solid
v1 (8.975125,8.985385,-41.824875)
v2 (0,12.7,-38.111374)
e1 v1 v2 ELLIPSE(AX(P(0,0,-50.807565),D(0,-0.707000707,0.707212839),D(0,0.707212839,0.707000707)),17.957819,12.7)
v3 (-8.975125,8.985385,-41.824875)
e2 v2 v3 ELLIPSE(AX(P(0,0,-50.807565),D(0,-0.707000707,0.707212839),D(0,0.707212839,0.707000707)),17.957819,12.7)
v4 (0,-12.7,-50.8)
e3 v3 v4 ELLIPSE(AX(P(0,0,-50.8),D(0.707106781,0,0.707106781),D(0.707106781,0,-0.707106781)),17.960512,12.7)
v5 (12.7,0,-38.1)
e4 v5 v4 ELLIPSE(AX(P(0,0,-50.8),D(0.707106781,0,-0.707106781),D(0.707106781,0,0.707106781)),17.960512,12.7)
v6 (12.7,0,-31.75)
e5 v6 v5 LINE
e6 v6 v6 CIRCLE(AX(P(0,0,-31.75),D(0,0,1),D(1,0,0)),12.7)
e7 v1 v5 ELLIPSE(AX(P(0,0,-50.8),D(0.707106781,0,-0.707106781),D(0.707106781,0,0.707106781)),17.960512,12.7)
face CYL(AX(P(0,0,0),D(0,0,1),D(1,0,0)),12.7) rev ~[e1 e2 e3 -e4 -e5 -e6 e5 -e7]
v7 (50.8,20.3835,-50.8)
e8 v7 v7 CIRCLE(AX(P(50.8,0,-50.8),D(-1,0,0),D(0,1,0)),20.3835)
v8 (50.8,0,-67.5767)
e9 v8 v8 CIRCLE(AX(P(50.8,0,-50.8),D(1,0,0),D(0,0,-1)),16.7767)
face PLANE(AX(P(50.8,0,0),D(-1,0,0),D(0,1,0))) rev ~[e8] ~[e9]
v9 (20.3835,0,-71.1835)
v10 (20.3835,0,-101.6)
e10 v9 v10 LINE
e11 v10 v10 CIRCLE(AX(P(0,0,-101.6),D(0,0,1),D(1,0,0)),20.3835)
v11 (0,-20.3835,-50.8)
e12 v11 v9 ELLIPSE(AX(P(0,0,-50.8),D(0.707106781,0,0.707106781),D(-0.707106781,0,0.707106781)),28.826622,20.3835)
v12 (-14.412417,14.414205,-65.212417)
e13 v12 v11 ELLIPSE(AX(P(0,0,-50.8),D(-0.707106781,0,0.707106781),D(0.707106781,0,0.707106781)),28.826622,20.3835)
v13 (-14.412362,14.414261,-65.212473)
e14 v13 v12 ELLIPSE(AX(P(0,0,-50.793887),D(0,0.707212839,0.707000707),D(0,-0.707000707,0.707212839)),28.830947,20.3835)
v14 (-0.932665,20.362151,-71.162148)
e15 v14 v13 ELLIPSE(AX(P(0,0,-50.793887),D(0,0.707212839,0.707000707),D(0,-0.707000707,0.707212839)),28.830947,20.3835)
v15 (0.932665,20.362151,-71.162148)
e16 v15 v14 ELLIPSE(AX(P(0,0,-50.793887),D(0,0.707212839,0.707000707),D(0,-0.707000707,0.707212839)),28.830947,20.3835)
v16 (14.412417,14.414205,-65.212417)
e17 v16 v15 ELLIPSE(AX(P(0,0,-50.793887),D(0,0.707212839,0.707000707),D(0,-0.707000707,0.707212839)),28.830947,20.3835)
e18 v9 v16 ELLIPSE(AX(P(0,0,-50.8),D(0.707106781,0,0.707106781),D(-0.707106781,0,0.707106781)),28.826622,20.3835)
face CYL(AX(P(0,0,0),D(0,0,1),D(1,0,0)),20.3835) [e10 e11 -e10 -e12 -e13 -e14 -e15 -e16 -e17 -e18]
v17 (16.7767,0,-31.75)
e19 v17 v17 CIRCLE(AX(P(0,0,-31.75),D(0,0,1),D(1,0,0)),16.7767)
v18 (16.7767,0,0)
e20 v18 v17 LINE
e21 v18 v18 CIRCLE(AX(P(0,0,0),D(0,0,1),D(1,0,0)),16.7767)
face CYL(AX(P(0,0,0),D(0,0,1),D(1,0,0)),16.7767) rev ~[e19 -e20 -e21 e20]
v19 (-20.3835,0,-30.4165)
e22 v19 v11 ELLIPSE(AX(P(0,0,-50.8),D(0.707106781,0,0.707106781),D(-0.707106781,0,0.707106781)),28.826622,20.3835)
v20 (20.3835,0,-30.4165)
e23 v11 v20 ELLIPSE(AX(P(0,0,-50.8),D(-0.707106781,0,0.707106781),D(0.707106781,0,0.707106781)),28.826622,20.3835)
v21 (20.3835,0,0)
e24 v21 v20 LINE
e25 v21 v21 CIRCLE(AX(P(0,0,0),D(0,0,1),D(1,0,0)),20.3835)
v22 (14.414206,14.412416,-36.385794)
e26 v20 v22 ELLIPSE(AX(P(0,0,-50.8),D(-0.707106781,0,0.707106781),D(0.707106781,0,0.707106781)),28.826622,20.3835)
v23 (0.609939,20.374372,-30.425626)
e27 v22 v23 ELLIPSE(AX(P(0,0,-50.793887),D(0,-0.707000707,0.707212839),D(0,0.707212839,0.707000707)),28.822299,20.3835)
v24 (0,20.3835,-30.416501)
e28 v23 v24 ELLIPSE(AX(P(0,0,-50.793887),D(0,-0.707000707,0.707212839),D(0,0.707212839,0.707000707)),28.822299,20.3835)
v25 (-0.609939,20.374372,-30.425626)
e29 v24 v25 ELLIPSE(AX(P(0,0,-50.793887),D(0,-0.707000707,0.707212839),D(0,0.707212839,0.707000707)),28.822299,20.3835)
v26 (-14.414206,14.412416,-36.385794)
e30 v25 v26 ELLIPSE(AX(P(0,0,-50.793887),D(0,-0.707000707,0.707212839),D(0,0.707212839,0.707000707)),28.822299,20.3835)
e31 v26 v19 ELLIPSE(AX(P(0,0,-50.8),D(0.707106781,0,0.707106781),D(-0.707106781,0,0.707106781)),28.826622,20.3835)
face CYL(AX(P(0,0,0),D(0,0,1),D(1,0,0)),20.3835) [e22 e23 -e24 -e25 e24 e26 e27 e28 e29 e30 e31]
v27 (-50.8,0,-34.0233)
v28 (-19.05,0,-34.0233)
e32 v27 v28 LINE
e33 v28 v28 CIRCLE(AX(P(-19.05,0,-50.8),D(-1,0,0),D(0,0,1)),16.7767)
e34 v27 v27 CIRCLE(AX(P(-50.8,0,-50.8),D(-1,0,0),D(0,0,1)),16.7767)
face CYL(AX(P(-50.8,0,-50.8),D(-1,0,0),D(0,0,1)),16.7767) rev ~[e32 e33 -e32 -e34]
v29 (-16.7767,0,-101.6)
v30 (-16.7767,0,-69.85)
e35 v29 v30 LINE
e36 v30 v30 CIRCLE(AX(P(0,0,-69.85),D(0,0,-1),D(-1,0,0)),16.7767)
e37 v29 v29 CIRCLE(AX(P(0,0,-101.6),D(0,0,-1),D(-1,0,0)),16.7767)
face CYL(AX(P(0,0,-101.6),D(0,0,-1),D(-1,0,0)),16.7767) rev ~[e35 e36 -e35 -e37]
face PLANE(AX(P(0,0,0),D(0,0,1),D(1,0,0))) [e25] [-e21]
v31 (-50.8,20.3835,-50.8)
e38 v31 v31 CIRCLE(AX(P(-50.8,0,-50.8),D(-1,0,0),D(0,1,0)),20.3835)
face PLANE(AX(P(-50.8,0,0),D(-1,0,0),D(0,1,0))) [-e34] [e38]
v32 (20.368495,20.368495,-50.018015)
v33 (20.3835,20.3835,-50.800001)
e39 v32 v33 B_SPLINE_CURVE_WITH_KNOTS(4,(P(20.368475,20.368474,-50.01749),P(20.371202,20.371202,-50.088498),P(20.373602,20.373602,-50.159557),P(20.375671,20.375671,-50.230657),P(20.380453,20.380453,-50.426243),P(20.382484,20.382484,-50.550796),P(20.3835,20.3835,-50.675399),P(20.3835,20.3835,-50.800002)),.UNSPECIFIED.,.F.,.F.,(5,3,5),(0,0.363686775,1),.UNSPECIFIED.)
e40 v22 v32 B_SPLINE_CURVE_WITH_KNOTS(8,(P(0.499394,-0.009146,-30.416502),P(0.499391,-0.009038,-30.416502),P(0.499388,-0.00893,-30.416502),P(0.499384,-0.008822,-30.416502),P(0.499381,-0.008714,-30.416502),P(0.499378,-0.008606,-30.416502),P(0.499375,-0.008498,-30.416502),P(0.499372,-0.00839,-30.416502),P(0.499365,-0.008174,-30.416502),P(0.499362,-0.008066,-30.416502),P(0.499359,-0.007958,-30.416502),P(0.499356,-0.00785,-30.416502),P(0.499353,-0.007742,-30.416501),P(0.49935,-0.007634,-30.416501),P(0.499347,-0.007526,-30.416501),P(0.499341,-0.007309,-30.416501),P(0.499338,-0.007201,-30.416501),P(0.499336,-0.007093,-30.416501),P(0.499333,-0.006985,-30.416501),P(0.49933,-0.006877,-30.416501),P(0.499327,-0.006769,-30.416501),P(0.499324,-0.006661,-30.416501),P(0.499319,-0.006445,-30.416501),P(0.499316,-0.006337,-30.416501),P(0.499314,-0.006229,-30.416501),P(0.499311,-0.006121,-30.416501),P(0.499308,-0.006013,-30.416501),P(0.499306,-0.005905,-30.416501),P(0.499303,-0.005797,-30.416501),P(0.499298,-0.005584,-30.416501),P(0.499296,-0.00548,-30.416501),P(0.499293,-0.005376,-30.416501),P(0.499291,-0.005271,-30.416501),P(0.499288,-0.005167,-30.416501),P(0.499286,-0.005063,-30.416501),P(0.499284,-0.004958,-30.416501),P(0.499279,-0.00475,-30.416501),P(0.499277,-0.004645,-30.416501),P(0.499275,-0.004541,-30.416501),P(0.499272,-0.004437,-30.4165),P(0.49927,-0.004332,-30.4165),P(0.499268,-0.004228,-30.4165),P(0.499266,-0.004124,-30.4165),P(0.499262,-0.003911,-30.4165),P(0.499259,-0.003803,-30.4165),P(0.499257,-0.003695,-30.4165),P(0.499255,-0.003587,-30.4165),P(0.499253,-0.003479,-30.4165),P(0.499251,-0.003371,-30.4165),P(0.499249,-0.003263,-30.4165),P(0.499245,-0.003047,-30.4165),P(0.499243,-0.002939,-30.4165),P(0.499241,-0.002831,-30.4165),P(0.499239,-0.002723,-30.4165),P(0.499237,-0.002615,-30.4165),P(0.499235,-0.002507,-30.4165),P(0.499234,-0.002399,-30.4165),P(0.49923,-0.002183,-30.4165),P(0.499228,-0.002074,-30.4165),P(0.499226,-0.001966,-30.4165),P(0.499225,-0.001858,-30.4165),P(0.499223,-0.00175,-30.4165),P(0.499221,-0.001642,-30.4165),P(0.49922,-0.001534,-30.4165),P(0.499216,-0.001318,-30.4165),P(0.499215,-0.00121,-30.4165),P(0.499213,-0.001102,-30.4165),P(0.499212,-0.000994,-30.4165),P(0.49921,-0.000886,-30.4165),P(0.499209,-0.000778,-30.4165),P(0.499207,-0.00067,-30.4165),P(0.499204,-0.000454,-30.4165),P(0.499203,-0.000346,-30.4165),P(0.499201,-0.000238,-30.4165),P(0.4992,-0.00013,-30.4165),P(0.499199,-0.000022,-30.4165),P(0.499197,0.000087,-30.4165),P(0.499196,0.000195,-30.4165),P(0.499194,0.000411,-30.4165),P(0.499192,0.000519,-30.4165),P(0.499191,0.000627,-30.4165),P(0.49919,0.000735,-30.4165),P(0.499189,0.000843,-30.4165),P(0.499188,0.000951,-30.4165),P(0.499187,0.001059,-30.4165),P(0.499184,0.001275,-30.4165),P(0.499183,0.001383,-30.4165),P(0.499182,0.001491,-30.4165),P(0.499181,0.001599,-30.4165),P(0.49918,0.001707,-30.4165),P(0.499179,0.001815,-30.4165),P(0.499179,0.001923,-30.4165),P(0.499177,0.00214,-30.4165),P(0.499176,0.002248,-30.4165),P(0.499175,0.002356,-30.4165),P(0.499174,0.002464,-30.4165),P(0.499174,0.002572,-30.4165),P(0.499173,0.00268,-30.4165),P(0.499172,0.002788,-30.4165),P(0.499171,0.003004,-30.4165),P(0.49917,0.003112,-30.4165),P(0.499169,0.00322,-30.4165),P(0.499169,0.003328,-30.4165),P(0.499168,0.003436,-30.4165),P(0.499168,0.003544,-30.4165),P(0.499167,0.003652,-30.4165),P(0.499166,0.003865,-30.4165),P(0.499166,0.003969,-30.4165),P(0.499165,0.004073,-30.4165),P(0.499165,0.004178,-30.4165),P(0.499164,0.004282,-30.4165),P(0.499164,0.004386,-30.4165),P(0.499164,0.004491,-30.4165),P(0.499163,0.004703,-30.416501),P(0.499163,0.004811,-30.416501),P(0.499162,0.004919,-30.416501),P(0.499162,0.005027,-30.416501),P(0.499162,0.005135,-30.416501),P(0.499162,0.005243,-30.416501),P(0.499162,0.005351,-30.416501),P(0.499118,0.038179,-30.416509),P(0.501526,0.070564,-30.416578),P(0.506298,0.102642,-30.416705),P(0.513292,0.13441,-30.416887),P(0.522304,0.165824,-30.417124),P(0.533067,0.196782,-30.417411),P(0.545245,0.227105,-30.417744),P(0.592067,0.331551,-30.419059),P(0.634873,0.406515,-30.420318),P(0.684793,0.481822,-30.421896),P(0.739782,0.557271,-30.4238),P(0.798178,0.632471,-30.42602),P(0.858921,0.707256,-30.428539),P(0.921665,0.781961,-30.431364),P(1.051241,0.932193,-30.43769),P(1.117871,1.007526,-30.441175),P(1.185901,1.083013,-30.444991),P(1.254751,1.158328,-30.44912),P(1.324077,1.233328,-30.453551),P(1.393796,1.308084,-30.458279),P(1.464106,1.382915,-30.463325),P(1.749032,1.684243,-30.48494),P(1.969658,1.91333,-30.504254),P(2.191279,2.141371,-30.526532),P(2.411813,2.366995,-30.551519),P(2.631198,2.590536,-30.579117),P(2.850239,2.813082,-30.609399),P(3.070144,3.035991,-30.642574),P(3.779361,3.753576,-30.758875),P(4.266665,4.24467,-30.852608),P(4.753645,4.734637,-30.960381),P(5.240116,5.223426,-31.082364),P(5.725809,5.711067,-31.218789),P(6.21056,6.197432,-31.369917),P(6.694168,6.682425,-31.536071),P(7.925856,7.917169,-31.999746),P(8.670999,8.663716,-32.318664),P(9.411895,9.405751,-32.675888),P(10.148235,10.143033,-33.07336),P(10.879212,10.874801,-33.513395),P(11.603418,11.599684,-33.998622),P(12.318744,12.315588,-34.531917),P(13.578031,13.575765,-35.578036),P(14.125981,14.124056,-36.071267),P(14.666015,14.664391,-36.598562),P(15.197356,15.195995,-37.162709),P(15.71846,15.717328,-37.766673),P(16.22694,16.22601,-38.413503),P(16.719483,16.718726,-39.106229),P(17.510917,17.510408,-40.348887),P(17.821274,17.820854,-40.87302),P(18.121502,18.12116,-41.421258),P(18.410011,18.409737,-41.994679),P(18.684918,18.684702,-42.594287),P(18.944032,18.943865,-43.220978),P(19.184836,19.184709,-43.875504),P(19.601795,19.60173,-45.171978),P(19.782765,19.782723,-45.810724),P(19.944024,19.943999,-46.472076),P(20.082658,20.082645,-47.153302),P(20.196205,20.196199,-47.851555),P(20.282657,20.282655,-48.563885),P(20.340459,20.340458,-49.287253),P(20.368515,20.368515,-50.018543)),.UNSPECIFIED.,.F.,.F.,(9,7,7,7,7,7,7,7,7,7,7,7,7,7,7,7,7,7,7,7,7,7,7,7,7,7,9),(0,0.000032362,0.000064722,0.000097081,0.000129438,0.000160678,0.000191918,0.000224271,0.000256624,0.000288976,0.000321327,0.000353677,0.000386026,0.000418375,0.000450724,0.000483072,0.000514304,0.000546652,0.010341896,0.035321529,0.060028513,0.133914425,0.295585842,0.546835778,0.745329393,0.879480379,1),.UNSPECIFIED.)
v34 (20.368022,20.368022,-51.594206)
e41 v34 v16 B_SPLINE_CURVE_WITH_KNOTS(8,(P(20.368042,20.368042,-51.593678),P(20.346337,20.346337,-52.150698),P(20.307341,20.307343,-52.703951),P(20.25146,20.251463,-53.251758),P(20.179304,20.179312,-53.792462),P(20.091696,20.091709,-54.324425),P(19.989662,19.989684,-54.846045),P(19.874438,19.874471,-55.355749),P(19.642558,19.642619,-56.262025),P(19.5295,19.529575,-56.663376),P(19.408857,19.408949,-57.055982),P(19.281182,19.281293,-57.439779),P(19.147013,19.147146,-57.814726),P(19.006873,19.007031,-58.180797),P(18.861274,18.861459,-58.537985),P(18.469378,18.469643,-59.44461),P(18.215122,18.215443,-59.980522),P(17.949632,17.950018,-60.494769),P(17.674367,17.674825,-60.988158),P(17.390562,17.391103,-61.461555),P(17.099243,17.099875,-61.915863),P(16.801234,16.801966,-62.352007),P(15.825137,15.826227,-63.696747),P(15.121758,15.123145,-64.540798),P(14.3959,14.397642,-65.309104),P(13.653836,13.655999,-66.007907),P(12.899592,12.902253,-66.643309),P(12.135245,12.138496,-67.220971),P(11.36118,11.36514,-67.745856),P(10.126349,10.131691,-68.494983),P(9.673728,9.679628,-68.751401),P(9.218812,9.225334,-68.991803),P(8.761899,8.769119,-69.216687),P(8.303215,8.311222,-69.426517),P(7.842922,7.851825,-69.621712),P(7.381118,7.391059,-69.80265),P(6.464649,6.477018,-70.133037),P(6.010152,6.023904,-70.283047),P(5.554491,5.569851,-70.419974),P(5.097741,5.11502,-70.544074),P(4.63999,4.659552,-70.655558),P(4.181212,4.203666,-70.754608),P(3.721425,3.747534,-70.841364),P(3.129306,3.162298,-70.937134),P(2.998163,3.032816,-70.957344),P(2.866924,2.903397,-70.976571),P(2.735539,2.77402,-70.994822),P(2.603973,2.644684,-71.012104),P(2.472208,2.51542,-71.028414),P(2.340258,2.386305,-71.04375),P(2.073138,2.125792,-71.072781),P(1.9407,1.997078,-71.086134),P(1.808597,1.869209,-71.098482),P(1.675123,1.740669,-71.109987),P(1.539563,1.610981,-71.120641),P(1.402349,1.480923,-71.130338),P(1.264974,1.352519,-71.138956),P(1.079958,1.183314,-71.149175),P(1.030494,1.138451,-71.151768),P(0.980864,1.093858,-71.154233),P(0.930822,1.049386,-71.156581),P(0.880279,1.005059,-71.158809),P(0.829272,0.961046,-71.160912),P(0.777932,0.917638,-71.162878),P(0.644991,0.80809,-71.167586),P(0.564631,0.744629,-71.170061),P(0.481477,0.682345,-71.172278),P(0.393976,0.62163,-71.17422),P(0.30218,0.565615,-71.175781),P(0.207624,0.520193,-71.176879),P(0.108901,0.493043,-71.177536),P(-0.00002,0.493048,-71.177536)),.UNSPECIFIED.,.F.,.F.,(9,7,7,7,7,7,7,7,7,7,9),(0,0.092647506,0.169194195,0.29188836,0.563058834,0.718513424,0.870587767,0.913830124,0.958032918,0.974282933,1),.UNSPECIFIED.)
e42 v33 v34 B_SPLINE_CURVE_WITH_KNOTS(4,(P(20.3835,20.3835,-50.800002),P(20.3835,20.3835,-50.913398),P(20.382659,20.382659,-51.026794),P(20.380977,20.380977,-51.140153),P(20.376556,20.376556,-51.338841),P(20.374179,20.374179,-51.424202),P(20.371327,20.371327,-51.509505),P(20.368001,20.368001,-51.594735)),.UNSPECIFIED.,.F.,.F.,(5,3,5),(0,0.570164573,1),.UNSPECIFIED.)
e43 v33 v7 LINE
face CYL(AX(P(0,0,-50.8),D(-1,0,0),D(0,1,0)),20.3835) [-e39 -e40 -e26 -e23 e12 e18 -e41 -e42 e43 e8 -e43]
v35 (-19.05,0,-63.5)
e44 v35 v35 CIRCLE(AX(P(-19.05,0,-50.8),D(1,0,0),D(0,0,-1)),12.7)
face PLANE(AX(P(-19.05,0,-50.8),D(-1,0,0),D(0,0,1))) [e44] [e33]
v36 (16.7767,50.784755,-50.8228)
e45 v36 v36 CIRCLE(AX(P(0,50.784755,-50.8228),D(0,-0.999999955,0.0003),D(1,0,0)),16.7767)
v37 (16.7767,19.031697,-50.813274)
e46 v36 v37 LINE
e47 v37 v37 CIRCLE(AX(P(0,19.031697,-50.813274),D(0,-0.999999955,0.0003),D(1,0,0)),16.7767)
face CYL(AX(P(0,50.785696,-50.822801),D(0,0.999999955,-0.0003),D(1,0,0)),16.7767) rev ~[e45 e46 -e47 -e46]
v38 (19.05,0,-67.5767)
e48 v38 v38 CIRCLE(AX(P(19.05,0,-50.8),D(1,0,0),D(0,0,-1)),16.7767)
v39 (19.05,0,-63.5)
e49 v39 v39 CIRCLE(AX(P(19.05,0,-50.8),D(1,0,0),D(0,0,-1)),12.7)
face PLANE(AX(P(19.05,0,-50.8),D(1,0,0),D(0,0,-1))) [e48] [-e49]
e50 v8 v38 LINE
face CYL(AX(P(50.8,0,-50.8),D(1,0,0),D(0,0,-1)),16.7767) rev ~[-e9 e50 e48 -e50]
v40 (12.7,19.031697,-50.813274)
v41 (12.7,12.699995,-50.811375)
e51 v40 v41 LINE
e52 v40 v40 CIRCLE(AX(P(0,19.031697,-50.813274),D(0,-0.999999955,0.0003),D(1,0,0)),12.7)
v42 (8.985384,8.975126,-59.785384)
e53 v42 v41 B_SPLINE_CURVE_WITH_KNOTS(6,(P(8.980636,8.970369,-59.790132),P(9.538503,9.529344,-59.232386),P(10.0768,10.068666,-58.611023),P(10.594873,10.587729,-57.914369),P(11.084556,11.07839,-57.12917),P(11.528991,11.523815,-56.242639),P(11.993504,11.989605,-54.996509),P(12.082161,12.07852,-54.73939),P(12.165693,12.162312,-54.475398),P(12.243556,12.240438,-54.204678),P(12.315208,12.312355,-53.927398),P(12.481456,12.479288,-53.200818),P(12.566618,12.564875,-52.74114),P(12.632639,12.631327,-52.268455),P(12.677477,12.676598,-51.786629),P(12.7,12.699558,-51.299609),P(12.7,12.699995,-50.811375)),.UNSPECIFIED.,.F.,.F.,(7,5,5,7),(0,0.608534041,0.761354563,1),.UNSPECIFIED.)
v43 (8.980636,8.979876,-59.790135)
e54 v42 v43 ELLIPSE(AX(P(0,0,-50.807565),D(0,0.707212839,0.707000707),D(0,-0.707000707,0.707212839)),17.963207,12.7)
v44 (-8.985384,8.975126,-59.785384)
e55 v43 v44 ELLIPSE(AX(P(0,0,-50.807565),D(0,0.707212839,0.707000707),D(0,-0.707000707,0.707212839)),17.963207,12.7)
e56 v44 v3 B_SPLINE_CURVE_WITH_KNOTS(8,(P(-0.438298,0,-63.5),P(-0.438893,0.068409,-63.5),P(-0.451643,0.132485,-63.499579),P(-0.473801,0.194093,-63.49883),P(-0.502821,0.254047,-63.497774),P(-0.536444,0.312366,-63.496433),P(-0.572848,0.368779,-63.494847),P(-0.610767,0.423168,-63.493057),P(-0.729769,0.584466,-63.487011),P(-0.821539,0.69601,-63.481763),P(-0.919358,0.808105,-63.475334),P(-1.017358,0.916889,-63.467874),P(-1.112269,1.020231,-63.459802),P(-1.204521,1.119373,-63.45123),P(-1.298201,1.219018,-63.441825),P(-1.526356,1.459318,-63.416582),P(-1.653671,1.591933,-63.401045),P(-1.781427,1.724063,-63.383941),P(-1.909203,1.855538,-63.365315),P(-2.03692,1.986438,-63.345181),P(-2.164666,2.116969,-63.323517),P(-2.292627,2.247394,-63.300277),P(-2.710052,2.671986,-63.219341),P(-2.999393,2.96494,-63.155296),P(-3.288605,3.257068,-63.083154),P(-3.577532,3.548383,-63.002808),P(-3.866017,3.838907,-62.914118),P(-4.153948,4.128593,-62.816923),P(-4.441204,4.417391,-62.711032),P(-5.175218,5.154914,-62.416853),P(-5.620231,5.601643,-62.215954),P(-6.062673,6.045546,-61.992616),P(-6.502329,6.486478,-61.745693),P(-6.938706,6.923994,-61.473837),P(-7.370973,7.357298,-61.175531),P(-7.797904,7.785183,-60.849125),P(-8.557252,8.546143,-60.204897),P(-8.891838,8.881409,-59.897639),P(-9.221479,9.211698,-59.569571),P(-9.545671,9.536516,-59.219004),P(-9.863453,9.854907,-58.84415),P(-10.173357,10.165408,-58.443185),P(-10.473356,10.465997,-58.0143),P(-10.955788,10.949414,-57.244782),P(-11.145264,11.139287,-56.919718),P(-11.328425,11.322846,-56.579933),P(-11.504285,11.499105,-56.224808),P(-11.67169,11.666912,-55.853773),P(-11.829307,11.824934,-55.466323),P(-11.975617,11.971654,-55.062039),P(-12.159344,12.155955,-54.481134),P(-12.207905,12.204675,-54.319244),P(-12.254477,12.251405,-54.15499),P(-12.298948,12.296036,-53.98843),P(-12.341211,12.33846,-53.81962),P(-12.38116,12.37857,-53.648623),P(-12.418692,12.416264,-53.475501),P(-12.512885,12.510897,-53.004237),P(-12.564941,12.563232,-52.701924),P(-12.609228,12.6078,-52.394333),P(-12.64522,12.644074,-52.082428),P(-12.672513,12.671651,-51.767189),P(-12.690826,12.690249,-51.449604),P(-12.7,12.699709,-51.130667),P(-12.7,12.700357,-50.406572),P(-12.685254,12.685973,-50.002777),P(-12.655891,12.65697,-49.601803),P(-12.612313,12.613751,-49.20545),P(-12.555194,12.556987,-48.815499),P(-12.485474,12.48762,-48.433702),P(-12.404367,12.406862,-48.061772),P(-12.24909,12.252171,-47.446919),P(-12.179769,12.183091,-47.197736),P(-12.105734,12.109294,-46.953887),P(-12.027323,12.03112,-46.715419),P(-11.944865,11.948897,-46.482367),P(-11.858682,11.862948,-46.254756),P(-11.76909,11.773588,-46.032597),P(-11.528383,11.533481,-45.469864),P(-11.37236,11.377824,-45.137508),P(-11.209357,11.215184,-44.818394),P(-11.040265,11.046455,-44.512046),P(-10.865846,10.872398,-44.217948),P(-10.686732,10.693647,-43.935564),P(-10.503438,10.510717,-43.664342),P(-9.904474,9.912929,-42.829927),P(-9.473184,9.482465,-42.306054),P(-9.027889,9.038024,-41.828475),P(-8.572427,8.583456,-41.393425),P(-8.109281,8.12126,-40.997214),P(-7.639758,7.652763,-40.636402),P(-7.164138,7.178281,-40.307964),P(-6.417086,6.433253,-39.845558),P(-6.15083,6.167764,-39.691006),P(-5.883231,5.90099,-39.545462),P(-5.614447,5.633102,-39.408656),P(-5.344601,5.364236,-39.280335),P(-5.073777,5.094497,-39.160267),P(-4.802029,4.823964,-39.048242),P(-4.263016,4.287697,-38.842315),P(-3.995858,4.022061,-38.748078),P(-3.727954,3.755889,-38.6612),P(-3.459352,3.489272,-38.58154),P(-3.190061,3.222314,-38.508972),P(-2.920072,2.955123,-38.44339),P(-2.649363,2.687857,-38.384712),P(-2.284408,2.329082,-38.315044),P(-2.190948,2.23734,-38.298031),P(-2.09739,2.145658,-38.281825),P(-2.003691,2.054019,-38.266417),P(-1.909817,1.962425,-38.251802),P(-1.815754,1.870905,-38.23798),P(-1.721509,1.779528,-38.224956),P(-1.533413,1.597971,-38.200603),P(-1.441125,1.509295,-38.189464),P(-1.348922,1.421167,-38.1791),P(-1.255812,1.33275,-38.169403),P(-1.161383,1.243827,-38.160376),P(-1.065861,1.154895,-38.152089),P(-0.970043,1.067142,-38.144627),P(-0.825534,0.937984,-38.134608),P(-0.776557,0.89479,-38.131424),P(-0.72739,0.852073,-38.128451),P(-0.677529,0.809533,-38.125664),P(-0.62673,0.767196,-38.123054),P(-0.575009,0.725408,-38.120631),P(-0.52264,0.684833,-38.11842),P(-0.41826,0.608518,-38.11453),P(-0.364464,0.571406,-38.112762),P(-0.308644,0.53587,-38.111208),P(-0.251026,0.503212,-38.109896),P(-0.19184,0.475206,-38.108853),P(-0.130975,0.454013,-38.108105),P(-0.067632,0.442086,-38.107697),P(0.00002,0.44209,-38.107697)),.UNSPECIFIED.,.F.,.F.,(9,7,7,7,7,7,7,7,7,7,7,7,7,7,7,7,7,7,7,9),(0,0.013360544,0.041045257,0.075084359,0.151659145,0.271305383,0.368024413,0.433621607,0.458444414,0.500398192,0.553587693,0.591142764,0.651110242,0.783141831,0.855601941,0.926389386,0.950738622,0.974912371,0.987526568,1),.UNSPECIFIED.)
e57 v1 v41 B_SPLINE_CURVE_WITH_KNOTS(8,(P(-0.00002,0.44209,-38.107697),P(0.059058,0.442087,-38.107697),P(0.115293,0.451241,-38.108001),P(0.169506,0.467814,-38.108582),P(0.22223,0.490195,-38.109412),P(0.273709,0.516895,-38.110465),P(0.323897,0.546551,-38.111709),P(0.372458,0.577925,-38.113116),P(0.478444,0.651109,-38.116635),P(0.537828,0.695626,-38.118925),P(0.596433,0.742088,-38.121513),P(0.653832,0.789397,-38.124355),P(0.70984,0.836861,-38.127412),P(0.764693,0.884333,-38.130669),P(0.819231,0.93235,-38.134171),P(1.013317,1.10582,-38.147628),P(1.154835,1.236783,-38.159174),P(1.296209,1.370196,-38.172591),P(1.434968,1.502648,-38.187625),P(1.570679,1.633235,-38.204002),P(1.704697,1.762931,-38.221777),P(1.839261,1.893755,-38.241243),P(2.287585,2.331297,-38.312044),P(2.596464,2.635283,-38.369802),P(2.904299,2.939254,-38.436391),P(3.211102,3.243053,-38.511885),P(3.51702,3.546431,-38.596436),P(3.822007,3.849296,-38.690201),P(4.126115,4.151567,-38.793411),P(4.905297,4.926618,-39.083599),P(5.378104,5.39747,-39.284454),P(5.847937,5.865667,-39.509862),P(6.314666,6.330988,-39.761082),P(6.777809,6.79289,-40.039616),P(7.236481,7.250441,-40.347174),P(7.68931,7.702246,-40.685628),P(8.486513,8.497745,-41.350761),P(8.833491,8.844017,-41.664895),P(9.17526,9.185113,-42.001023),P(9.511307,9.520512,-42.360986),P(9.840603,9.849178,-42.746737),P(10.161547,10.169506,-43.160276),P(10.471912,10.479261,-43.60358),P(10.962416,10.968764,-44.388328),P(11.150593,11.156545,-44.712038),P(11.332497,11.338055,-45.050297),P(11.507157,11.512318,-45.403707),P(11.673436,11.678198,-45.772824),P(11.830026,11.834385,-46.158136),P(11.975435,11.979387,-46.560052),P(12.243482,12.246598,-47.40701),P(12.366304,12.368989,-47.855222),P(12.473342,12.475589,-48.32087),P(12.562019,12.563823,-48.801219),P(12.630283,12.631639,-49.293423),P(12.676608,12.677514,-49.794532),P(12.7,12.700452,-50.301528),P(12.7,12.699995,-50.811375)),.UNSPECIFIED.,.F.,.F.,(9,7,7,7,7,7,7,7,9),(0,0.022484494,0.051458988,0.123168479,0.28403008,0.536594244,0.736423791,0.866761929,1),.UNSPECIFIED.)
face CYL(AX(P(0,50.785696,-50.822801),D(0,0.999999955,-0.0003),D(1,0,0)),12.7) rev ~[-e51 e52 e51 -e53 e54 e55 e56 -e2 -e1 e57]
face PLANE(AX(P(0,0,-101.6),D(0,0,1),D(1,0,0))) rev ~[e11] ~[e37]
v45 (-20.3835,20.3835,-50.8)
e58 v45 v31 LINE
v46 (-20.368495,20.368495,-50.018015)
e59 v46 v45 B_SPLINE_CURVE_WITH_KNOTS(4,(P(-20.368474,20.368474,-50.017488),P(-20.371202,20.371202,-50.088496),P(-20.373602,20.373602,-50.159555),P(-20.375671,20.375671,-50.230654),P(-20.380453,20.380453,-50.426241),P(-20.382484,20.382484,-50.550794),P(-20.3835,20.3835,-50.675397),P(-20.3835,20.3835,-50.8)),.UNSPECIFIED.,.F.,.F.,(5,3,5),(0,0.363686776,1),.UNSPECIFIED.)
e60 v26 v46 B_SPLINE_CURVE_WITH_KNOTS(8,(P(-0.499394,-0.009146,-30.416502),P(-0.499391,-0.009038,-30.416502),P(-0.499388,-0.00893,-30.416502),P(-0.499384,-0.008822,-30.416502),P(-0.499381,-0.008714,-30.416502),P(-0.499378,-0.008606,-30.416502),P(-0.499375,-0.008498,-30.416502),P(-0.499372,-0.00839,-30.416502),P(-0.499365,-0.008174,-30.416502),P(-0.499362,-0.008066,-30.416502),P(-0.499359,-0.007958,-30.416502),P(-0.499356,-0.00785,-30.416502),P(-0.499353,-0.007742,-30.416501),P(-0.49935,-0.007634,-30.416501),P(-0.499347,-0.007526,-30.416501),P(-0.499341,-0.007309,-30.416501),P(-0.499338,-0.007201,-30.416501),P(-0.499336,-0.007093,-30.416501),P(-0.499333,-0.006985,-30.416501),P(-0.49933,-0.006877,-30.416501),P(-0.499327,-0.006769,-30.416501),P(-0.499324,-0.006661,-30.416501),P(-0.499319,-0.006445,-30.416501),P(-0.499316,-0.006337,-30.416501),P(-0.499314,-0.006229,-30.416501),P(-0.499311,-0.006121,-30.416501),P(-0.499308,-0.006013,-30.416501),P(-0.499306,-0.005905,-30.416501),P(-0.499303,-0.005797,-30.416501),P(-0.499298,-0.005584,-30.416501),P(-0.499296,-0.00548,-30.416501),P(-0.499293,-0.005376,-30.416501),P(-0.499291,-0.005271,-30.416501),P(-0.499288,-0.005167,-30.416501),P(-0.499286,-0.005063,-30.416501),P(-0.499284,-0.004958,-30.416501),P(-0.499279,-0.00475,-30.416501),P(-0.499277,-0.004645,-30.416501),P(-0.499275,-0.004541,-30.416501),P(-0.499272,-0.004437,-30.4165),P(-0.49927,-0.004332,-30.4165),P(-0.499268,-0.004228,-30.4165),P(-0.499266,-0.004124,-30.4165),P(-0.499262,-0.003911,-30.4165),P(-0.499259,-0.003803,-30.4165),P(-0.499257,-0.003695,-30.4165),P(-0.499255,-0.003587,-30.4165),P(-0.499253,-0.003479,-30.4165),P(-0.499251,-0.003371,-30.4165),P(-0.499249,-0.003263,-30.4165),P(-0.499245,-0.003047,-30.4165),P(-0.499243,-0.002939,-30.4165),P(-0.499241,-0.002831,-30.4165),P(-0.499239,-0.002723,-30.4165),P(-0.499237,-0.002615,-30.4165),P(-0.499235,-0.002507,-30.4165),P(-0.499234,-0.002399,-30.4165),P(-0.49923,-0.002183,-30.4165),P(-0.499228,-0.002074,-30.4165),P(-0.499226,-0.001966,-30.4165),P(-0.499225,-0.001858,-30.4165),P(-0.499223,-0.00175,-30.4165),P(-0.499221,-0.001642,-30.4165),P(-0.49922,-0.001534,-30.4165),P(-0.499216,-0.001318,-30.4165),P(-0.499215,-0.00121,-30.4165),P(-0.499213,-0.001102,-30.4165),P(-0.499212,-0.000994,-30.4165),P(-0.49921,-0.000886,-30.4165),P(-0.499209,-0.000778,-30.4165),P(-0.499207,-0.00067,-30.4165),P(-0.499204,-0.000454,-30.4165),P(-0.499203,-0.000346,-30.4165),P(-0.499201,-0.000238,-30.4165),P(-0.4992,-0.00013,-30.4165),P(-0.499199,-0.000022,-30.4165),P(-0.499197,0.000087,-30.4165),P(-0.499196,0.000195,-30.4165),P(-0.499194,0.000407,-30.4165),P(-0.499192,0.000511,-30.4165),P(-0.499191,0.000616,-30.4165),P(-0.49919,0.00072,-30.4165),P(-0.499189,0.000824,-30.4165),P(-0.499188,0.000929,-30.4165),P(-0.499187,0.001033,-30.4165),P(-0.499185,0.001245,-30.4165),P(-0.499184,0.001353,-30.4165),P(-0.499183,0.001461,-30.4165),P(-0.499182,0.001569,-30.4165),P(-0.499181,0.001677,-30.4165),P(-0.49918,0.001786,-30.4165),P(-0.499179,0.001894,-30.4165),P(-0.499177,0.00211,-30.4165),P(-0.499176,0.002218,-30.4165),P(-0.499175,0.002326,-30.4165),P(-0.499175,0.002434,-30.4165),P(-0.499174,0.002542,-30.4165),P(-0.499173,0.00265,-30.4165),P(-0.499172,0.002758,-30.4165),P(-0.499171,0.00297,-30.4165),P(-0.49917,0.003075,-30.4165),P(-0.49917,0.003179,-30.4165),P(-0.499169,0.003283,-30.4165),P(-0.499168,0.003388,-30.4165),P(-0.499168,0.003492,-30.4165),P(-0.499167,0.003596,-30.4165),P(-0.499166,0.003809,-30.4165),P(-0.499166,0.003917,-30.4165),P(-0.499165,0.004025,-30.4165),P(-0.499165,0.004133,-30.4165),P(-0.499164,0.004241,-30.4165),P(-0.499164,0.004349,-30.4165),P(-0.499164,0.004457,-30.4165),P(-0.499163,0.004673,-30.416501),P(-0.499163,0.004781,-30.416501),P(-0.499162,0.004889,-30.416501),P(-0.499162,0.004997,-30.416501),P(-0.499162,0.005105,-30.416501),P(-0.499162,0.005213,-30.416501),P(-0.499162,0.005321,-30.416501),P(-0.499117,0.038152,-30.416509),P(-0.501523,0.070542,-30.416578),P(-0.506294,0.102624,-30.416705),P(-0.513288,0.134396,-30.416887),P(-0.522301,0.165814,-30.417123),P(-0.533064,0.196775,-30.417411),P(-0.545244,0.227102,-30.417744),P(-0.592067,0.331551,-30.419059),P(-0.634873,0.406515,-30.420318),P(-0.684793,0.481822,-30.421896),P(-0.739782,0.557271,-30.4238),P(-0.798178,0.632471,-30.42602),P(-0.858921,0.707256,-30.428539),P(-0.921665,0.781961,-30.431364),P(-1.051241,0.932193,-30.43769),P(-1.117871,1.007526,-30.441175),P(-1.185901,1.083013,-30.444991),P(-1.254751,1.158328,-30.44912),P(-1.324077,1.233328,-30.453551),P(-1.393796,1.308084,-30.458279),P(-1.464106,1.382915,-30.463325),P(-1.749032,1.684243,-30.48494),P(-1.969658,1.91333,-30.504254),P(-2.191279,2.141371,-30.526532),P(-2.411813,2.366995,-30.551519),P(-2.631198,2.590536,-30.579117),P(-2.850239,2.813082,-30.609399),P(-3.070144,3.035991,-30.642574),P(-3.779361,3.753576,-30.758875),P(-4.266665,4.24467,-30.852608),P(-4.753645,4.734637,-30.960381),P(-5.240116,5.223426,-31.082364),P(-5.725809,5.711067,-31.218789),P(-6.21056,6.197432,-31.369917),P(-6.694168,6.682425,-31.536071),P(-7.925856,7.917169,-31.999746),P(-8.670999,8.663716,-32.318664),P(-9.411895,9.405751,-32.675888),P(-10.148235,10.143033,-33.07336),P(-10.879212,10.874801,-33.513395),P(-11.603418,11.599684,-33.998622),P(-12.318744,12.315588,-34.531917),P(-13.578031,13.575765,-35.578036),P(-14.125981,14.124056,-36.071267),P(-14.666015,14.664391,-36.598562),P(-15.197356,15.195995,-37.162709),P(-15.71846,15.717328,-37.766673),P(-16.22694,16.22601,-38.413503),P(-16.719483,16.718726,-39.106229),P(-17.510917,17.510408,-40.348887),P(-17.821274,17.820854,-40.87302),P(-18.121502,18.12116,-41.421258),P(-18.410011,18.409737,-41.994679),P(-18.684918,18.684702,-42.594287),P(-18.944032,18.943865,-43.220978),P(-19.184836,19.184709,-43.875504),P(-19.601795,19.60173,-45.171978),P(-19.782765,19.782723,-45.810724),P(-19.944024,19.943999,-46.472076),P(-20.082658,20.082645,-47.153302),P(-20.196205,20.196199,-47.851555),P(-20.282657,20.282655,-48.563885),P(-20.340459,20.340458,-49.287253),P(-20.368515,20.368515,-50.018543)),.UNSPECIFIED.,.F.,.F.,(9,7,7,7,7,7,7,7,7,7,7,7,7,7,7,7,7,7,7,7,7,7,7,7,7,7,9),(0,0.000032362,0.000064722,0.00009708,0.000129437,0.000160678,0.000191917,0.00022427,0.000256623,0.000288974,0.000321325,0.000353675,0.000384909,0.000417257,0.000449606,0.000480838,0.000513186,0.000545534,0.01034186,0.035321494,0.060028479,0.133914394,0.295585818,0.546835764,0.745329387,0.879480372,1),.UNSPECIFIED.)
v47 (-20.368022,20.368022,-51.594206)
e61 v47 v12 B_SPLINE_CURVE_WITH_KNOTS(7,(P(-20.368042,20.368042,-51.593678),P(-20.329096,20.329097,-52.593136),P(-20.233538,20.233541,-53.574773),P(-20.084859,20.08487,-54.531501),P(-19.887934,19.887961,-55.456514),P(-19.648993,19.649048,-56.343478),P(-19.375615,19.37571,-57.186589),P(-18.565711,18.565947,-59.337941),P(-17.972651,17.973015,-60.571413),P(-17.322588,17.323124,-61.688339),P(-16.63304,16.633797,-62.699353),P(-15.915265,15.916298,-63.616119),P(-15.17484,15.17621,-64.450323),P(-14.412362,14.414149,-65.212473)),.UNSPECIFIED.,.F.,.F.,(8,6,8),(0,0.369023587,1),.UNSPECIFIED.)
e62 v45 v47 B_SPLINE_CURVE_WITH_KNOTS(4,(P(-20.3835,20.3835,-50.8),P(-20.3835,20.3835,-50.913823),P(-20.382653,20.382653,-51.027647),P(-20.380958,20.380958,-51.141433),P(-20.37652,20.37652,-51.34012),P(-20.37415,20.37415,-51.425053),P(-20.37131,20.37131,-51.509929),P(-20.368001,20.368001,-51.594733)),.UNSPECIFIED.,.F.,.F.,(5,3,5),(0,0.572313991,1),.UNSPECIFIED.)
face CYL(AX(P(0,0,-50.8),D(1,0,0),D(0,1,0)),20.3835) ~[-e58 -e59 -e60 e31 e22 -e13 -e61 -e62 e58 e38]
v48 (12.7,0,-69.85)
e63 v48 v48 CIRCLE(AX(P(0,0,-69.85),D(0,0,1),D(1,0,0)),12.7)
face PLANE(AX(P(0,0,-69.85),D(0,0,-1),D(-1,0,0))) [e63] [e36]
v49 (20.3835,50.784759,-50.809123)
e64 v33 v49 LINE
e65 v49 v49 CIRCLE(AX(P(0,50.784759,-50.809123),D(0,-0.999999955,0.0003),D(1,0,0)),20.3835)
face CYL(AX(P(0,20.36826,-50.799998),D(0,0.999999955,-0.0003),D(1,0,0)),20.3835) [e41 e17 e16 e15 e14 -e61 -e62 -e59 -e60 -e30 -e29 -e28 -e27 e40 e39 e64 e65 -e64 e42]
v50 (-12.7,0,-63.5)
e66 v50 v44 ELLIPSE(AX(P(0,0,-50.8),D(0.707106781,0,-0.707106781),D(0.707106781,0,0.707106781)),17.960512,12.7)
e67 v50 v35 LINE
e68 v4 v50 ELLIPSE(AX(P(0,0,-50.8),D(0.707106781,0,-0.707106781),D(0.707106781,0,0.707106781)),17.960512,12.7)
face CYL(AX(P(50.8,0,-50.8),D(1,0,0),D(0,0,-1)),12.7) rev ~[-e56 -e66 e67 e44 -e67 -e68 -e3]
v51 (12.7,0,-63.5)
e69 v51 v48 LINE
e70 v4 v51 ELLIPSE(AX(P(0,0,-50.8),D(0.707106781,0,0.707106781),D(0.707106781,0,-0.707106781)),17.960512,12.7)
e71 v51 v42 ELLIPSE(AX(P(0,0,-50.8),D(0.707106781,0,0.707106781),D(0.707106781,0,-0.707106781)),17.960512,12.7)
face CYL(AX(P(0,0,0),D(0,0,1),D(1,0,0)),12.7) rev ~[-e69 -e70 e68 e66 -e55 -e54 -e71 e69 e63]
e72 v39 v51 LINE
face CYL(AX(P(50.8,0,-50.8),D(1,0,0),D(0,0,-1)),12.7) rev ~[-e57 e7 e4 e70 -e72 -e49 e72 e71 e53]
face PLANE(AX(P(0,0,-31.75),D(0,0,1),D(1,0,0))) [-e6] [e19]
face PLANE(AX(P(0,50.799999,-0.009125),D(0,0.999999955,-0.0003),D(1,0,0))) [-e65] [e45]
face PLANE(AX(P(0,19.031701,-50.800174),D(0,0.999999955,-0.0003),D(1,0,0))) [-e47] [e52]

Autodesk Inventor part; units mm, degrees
ref_plane "YZ Plane" through (0, 0, 0) normal (1, 0, 0) x (0, 1, 0)
sketch "Sketch1" plane through (0, 0, 0) normal (0, 0, 1) x (1, 0, 0)
  circle A0 centre (0, 0) radius 20.3835
  dimension "d0" = 40.767
extrude "Extrusion1" add sketch "Sketch1" against normal blind 101.6
sketch "Sketch2" plane through (0, 0, 0) normal (0, 0, 1) x (1, 0, 0)
  line L0 (0, 0) -> (0, 19.704)
sketch "Sketch3" plane through (0, 0, -101.6) normal (0, 0, -1) x (-1, 0, 0)
  line L0 (0, 0) -> (0, 20.098)
sketch "Sketch11" plane through (0, 0, 0) normal (0, 0, 1) x (1, 0, 0)
  circle A0 centre (0, 0) radius 20.3835 projected
  line L0 (0, 20.3835) -> (23.5166, 20.3835)
sketch "Sketch12" plane through (0, 0, -101.6) normal (0, 0, -1) x (-1, 0, 0)
  line L0 (0, 20.3509) -> (-24.2704, 20.3509)
  point P0 (0, 0)
ref_plane "Work Plane1" through (0, 0, 0) normal (-1, 0, 0) x (0, 1, 0)
ref_plane "Work Plane2" through (0, 20.3835, 0) normal (0, 1, -0.0003) x (1, 0, 0)
sketch "Sketch4" plane through (0, 0, 0) normal (-1, 0, 0) x (0, 1, 0)
  circle A0 centre (0, 50.8) radius 20.3835
  point P0 (0, 0)
extrude "Extrusion2" add sketch "Sketch4" along normal mid plane 101.6
sketch "Sketch13" plane through (0, 20.3835, 0) normal (0, 1, -0.0003) x (1, 0, 0)
  ellipse E0 centre (0, 50.8065) end of major axis (20.3835, 30.423) minor radius 0.0046 (0, 50.8131) -> (0, 50.8) ccw projected
  circle A0 centre (0, 50.8) radius 20.3835
  point P0 (0, 0.0065)
  dimension "d23" = 40.767
extrude "Extrusion9" add sketch "Sketch13" along normal blind 30.4165 and the other way blind 20.3835
sketch "Sketch5" plane through (0, 0, 0) normal (0, 0, 1) x (1, 0, 0)
  circle A0 centre (0, 0) radius 16.7767
  dimension "d5" = 33.5534
sketch "Sketch6" plane through (50.8, 0, -50.8) normal (1, 0, 0) x (0, 0, -1)
  circle A0 centre (0, 0) radius 16.7767
  point P0 (-50.8, 0)
  dimension "d6" = 33.5534
sketch "Sketch7" plane through (0, 0, -101.6) normal (0, 0, -1) x (-1, 0, 0)
  circle A0 centre (0, 0) radius 20.3835 projected
  circle A1 centre (0, 0) radius 16.7767
  dimension "d7" = 33.5534
sketch "Sketch8" plane through (-50.8, 0, -50.8) normal (-1, 0, 0) x (0, 0, 1)
  circle A0 centre (0, 0) radius 16.7767
  point P0 (50.8, 0)
  dimension "d8" = 33.5534
extrude "Extrusion3" cut sketch "Sketch5" against normal blind 31.75
extrude "Extrusion4" cut sketch "Sketch6" against normal blind 31.75
extrude "Extrusion5" cut sketch "Sketch7" against normal blind 31.75 contours A1
extrude "Extrusion6" cut sketch "Sketch8" against normal blind 31.75
sketch "Sketch9" plane through (0, 0, 0) normal (0, 0, 1) x (1, 0, 0)
  circle A0 centre (0, 0) radius 12.7
  dimension "d17" = 25.4
sketch "Sketch10" plane through (50.8, 0, -50.8) normal (1, 0, 0) x (0, 0, -1)
  circle A0 centre (0, 0) radius 12.7
  point P0 (-50.8, 0)
  dimension "d18" = 25.4
extrude "Extrusion7" cut sketch "Sketch10" against normal blind 101.6
extrude "Extrusion8" cut sketch "Sketch9" against normal blind 101.6
sketch "Sketch14" plane through (0, 50.7837, -50.8097) normal (0, 1, -0.0003) x (1, 0, 0)
  ellipse E0 centre (0, 0.0065) end of major axis (20.3835, -20.377) minor radius 0.0046 (0, 0.0131) -> (-14.4124, 14.4143) ccw projected
  circle A0 centre (0, 0.0131) radius 16.7767
  point P0 (0, -50.7935)
  dimension "d28" = 33.5534
extrude "Extrusion10" cut sketch "Sketch14" against normal blind 31.75
sketch "Sketch15" plane through (0, 50.7837, -50.8097) normal (0, 1, -0.0003) x (1, 0, 0)
  ellipse E0 centre (0, 0.0065) end of major axis (-20.3835, -20.377) minor radius 0.0046 (14.4124, 14.4143) -> (0, 0.0131) ccw projected
  circle A0 centre (0, 0.0131) radius 12.7
  point P0 (0, -50.7935)
  dimension "d31" = 25.4
extrude "Extrusion11" cut sketch "Sketch15" against normal blind 50.8
properties part number "5-way 1 Inch"
